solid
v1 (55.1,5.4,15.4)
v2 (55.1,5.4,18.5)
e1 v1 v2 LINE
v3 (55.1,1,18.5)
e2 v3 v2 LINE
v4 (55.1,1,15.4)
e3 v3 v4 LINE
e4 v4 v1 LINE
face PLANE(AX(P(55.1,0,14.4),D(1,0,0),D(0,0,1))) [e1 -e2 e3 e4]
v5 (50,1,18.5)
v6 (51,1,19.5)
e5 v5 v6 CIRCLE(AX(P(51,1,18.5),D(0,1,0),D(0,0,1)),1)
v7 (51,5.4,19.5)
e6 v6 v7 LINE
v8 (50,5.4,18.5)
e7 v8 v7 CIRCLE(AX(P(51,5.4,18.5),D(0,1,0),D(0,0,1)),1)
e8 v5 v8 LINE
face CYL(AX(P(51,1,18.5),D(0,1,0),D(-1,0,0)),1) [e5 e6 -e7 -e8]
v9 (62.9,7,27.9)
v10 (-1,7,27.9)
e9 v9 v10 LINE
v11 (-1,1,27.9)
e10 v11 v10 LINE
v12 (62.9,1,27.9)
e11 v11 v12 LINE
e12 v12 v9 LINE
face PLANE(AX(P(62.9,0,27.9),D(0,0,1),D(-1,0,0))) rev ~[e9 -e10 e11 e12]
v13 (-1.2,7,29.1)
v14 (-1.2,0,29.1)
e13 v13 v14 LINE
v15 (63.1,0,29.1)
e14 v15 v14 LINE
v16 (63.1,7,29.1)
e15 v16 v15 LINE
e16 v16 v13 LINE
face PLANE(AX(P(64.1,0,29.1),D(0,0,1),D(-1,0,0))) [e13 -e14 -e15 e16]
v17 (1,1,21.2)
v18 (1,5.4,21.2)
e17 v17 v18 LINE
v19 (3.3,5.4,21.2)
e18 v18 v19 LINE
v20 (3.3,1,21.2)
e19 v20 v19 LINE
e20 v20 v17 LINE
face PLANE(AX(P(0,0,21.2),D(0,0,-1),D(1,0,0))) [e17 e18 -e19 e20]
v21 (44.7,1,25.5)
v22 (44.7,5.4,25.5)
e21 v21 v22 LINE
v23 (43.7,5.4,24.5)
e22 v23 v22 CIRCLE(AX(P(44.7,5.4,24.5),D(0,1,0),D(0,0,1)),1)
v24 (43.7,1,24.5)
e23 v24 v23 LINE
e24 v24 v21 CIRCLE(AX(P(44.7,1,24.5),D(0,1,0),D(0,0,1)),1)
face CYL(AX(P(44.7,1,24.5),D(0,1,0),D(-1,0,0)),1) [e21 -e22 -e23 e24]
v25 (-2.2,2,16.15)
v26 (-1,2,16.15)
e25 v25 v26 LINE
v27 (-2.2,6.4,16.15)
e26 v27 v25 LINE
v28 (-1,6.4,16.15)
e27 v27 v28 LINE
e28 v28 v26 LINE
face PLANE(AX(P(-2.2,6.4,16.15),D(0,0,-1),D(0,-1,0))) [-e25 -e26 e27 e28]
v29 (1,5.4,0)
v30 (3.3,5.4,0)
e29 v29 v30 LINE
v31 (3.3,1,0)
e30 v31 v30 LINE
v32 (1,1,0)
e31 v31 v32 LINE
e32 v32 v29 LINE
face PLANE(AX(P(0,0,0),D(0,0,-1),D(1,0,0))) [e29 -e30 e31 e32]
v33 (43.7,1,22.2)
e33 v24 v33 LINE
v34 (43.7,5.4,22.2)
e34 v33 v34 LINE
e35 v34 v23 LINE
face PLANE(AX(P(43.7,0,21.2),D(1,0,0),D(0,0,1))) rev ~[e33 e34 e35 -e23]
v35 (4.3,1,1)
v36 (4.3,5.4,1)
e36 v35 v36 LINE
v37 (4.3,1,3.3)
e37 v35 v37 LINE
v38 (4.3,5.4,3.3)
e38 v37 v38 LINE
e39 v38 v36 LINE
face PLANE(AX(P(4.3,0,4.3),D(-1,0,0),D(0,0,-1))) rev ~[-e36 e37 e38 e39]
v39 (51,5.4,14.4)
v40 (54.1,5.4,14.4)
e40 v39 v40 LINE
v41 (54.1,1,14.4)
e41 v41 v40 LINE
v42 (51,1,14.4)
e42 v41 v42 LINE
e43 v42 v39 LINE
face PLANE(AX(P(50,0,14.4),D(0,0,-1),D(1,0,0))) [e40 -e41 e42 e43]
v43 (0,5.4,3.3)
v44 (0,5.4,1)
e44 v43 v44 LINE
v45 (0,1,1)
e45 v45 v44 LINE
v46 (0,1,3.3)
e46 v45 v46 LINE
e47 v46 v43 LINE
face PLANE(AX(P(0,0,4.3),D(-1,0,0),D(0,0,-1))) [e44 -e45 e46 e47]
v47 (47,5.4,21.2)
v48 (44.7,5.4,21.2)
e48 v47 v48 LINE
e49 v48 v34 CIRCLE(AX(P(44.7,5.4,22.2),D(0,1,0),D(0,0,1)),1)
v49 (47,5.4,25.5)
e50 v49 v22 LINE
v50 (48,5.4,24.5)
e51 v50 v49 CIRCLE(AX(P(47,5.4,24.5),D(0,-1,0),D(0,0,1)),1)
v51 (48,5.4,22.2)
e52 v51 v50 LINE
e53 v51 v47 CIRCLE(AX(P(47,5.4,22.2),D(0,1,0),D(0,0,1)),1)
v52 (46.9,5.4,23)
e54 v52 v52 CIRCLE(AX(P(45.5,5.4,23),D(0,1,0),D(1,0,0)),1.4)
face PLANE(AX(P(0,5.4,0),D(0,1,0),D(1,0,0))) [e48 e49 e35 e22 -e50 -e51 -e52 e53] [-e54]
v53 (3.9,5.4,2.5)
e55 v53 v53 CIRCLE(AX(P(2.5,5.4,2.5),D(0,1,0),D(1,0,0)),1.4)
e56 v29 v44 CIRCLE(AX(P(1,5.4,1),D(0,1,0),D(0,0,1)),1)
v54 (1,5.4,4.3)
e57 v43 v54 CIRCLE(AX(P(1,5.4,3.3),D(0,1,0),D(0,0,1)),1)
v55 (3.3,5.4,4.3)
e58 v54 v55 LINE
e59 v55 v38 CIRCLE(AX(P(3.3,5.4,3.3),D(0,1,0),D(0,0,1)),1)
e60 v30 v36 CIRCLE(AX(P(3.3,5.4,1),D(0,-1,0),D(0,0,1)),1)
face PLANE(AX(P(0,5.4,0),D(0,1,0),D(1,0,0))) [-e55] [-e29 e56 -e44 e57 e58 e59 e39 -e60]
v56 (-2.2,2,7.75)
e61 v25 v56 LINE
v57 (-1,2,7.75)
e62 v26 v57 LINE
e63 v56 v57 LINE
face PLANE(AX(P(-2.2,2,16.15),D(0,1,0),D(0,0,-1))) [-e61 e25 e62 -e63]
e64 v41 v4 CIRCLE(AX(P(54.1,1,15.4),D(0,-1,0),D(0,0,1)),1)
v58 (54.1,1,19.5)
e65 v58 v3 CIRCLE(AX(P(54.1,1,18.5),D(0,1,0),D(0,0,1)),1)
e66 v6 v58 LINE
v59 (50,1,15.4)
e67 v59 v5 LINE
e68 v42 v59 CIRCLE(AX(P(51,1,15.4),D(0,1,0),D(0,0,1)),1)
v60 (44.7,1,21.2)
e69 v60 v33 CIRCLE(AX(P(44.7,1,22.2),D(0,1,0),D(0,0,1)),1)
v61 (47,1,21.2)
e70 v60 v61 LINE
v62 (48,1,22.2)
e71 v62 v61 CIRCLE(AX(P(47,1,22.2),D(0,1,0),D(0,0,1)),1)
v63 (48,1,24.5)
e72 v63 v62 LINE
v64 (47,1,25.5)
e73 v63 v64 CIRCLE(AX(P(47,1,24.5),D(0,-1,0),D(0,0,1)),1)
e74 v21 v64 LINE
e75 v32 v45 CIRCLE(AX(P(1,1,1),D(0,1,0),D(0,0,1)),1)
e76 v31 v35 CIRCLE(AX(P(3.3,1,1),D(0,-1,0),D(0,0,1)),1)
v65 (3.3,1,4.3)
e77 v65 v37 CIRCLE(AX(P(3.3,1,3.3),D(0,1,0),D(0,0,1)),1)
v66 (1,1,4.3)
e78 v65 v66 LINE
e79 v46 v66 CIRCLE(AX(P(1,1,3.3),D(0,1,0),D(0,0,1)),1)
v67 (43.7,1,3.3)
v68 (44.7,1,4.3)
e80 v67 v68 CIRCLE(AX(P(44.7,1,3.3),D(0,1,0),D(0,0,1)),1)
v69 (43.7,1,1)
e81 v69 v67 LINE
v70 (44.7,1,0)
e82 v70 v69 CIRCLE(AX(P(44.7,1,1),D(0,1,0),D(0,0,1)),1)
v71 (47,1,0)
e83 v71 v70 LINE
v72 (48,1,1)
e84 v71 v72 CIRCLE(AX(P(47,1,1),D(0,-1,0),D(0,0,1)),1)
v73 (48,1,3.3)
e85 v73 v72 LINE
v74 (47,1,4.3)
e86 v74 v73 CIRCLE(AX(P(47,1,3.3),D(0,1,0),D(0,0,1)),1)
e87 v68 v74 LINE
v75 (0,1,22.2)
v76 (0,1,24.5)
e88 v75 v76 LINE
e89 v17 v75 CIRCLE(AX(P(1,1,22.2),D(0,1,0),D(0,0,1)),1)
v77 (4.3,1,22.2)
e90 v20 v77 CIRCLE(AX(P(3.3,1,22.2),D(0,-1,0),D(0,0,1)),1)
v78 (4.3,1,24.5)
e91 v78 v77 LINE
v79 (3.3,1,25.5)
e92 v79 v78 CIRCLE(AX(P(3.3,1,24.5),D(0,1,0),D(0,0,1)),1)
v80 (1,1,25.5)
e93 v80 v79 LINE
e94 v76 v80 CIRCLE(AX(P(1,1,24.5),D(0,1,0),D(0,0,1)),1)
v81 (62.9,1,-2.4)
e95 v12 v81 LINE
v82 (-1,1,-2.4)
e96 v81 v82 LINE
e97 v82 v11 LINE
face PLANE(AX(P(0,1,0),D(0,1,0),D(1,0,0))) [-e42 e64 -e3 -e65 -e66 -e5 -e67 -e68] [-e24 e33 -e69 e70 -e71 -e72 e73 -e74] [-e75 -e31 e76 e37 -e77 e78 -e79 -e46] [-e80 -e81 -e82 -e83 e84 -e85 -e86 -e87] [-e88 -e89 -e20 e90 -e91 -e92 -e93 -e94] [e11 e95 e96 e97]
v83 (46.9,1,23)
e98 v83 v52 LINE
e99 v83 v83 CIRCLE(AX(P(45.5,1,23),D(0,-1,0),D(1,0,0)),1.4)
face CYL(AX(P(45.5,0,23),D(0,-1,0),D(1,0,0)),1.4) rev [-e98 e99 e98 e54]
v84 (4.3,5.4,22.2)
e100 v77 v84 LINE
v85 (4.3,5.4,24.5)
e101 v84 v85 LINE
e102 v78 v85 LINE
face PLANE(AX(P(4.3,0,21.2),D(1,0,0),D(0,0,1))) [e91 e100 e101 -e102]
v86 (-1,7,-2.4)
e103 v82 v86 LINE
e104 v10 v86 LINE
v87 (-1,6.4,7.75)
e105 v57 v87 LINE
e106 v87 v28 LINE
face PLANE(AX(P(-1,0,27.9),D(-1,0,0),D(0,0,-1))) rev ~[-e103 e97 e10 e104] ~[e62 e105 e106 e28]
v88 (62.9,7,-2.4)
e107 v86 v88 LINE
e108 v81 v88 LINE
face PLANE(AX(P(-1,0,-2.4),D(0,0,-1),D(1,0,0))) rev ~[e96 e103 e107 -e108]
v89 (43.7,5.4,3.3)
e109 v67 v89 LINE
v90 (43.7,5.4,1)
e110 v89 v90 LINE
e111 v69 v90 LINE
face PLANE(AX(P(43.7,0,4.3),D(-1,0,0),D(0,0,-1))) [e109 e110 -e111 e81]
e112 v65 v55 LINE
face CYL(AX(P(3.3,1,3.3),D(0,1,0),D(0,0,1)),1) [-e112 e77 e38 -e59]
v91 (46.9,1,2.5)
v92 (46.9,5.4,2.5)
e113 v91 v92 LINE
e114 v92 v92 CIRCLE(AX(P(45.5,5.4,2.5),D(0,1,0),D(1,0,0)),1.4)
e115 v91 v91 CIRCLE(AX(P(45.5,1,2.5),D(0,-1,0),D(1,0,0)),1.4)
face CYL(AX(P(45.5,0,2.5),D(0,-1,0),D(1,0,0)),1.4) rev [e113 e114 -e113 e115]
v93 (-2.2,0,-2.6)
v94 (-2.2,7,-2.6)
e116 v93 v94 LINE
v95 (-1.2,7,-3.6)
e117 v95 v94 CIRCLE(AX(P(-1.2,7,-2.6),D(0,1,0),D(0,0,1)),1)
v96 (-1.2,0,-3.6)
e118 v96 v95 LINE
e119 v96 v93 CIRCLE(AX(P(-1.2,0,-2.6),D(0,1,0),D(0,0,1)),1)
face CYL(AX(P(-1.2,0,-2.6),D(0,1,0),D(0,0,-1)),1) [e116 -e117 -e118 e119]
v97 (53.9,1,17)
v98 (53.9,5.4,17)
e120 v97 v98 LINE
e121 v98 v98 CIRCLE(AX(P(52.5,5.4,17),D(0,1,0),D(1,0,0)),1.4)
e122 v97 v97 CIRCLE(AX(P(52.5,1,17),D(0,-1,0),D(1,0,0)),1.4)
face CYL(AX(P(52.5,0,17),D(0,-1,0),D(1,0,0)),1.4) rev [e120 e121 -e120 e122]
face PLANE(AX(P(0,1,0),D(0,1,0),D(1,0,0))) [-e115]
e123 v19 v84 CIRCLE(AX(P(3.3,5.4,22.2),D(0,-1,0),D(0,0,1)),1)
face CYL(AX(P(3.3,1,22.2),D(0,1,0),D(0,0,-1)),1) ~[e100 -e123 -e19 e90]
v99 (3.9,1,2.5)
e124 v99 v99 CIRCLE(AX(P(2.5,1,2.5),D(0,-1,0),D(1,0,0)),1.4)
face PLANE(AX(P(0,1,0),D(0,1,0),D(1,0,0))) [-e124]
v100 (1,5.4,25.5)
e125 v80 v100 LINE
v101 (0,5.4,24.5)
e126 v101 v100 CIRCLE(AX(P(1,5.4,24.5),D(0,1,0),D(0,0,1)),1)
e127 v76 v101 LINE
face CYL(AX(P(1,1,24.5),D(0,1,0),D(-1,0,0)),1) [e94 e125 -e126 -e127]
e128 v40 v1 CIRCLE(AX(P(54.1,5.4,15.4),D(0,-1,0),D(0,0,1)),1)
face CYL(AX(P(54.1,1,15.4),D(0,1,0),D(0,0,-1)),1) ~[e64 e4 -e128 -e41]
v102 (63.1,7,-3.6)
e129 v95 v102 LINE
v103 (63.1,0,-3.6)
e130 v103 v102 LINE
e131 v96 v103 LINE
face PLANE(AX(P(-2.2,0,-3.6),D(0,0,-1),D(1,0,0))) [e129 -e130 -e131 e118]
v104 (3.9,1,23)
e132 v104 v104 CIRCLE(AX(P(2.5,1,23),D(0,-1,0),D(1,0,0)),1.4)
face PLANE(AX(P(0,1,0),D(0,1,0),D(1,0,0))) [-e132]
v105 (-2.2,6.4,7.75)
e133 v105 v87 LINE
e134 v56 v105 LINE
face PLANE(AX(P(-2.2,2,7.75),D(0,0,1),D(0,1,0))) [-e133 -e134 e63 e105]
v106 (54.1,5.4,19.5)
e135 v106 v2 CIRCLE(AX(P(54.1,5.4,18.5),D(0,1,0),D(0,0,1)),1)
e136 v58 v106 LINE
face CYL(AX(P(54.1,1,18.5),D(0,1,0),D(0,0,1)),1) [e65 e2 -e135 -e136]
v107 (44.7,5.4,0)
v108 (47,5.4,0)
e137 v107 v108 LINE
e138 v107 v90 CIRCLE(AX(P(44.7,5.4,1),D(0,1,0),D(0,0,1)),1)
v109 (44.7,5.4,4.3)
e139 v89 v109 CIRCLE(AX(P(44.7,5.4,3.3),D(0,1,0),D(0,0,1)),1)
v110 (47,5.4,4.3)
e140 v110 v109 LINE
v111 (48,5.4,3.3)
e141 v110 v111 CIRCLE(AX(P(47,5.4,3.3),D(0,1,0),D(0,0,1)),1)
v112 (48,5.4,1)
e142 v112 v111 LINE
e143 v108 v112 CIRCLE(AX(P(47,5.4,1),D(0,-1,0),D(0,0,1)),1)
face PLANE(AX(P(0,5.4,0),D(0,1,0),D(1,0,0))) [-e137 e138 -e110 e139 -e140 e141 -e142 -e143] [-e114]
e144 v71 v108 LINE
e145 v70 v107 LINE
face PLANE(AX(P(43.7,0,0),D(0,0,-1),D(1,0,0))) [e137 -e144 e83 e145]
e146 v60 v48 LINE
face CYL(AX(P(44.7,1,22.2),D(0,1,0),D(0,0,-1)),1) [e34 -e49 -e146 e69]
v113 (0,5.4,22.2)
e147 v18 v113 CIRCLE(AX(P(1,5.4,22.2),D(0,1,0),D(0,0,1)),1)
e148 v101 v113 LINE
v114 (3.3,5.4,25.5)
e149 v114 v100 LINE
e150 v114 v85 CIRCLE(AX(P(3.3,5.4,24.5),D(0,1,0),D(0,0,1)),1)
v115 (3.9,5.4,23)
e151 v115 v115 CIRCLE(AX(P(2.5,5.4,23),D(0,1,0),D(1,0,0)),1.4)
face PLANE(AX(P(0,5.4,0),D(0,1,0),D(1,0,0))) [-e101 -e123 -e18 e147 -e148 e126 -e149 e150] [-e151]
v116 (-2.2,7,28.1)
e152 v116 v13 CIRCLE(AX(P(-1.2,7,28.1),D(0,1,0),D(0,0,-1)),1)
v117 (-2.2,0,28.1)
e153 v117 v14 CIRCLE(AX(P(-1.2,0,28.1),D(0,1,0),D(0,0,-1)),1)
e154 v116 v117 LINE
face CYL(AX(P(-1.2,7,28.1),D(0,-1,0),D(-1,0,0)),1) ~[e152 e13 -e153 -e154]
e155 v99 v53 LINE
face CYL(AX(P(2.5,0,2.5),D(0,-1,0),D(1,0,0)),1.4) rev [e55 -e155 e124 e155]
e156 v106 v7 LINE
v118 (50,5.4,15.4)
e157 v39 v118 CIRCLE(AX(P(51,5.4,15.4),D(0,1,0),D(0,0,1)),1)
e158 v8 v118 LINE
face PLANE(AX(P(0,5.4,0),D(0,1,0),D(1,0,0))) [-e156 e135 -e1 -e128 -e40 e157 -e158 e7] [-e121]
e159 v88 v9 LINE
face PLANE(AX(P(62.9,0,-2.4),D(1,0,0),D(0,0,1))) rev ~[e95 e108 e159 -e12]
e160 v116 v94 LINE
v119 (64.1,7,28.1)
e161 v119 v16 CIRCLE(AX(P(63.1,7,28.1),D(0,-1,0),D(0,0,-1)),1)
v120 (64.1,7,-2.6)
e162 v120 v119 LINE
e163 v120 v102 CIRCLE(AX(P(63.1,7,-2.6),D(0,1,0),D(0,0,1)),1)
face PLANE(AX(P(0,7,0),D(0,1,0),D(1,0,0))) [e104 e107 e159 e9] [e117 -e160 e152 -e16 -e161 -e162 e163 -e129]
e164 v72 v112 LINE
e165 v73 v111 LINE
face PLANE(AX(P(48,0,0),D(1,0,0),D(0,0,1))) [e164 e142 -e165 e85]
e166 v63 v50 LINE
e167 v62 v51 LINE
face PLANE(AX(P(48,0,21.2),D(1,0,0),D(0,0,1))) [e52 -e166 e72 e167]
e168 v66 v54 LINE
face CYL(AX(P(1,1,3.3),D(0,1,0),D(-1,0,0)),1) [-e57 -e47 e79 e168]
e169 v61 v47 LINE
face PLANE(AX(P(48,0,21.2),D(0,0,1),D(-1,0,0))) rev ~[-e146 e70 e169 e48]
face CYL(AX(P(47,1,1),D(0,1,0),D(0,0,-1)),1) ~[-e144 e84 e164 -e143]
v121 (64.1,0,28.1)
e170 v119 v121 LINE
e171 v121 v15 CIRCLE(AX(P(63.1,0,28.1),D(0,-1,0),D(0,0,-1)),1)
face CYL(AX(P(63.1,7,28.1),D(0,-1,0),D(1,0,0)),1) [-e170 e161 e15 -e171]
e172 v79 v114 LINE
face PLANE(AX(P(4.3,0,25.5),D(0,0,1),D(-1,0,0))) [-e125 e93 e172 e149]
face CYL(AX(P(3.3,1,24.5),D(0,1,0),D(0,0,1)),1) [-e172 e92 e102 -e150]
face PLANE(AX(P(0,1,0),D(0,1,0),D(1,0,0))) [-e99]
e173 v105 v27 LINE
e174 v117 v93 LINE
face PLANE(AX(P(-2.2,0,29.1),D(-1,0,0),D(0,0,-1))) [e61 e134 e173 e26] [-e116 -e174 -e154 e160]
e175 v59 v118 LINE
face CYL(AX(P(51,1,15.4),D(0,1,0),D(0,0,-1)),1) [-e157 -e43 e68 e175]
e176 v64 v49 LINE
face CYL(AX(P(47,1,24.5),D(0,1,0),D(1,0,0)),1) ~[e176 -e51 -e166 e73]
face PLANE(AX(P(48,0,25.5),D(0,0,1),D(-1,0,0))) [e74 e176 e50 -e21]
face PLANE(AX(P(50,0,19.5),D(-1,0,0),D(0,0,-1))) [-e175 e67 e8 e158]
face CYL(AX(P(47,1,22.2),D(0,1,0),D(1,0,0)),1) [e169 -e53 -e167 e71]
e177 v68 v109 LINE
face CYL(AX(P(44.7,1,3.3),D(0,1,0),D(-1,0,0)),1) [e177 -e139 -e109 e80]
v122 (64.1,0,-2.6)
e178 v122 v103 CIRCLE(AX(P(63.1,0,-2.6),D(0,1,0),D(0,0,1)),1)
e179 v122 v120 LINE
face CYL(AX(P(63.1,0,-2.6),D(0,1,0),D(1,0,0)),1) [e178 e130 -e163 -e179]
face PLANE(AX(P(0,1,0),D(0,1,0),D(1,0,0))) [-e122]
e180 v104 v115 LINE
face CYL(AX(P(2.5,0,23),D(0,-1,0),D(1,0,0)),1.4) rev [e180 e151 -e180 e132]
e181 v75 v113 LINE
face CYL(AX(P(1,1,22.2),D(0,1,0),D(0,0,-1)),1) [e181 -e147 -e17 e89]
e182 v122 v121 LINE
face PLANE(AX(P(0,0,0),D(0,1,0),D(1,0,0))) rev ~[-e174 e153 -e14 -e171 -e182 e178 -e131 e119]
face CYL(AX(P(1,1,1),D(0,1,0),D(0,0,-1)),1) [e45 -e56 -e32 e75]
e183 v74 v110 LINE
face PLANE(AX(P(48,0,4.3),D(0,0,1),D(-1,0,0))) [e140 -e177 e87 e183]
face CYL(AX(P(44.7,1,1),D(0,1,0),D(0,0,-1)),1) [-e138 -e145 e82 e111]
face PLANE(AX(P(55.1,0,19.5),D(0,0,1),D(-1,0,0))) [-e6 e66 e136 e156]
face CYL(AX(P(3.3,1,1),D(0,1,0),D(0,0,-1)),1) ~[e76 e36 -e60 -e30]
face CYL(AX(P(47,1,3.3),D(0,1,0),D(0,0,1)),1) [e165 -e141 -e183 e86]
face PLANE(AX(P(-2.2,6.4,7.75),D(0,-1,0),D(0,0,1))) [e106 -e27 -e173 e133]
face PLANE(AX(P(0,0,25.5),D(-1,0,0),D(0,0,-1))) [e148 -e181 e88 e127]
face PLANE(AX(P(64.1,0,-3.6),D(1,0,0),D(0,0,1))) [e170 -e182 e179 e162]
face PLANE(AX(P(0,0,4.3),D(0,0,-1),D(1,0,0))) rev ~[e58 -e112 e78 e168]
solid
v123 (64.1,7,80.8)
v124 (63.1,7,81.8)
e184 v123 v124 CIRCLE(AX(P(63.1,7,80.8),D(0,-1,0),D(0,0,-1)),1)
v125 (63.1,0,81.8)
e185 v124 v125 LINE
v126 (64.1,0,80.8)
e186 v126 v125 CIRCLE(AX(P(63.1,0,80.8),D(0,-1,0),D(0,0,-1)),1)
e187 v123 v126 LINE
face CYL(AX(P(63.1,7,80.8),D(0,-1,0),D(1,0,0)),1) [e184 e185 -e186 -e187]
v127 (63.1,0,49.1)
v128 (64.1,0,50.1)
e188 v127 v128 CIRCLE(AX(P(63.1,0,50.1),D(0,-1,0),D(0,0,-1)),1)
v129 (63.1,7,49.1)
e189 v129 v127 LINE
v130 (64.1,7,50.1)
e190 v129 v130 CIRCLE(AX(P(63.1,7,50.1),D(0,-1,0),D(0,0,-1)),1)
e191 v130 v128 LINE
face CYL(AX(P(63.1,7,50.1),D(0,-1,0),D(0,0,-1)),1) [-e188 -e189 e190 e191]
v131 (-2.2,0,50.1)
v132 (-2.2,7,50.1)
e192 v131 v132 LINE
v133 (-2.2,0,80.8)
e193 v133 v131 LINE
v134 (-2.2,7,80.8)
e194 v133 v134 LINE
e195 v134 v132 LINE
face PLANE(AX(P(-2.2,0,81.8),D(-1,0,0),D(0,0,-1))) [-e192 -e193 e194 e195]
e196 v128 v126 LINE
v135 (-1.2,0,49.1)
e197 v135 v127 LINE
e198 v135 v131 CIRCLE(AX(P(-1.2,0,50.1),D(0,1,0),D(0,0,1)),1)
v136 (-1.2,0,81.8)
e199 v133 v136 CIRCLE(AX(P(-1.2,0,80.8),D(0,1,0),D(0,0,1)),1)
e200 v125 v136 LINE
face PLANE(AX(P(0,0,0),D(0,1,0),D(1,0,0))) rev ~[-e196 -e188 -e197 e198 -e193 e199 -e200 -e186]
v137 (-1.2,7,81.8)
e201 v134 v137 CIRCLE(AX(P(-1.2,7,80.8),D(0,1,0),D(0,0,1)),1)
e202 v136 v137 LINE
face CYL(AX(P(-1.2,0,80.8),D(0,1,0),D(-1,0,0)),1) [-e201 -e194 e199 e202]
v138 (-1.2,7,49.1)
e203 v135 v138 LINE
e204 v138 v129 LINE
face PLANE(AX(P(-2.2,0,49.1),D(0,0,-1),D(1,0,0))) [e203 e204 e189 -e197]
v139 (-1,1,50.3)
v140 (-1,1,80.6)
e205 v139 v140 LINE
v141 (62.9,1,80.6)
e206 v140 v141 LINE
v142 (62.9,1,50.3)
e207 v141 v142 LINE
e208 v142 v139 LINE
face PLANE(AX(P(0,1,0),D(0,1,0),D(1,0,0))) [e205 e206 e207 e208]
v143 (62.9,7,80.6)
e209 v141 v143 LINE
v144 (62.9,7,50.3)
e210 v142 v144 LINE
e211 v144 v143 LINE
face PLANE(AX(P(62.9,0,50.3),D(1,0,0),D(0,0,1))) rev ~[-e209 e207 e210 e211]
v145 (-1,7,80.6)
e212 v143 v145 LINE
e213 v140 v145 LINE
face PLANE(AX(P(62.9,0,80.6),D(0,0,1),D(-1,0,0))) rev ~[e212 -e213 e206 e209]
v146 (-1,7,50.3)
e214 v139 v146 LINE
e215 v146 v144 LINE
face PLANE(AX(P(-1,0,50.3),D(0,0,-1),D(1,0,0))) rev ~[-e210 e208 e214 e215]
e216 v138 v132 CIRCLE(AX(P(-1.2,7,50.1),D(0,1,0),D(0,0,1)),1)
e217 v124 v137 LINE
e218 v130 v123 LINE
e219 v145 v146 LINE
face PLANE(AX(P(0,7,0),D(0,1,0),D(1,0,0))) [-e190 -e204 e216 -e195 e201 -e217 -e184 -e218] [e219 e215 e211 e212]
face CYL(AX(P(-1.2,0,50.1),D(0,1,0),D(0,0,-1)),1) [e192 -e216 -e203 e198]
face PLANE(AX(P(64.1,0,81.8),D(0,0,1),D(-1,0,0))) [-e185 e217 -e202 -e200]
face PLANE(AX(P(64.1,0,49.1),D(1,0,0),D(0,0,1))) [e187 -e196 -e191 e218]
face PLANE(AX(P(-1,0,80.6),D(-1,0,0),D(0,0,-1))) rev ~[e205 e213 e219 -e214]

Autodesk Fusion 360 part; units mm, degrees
sketch "Skizze1" plane through (0, 0, 0) normal (0, 1, 0) x (1, 0, 0)
  line L0 (0, 0) -> (48, 0)
  line L1 (48, 0) -> (48, -25.5)
  line L2 (48, -25.5) -> (0, -25.5)
  line L3 (0, -25.5) -> (0, 0)
  circle A0 centre (45.5, -2.5) radius 1.4
  line L4 (24, 5) -> (24, -28) construction
  line L5 (-2.2203, -12.75) -> (51, -12.75) construction
  circle A1 centre (45.5, -23) radius 1.4
  circle A2 centre (2.5, -2.5) radius 1.4
  circle A3 centre (2.5, -23) radius 1.4
  line L6 (50, -6) -> (60.5, -6)
  line L7 (60.5, -6) -> (60.5, -19.5)
  line L8 (60.5, -19.5) -> (50, -19.5)
  line L9 (50, -19.5) -> (50, -6)
  circle A4 centre (52.5, -17) radius 1.4
  line L10 (-1, 2.4) -> (62.9, 2.4)
  line L11 (62.9, 2.4) -> (62.9, -27.9)
  line L12 (62.9, -27.9) -> (-1, -27.9)
  line L13 (-1, -27.9) -> (-1, 2.4)
  line L14 (64.1, 3.6) -> (64.1, -29.1)
  line L15 (64.1, -29.1) -> (-2.2, -29.1)
  line L16 (-2.2, -29.1) -> (-2.2, 3.6)
  line L17 (-2.2, 3.6) -> (64.1, 3.6)
  line L18 (48, -4.3) -> (43.7, -4.3)
  line L19 (43.7, -4.3) -> (43.7, 0)
  line L20 (43.7, -21.2) -> (43.7, -25.5)
  line L21 (48, -21.2) -> (43.7, -21.2)
  line L22 (0, -4.3) -> (4.3, -4.3)
  line L23 (4.3, -4.3) -> (4.3, 0)
  line L24 (0, -21.2) -> (4.3, -21.2)
  line L25 (4.3, -21.2) -> (4.3, -25.5)
  line L26 (50, -14.4) -> (55.1, -14.4)
  line L27 (55.1, -14.4) -> (55.1, -19.5)
  line L28 (-2.2, -49.1) -> (64.1, -49.1)
  line L29 (64.1, -49.1) -> (64.1, -81.8)
  line L30 (64.1, -81.8) -> (-2.2, -81.8)
  line L31 (-2.2, -81.8) -> (-2.2, -49.1)
  line L32 (62.9, -80.6) -> (-1, -80.6)
  line L33 (-1, -80.6) -> (-1, -50.3)
  line L34 (-1, -50.3) -> (62.9, -50.3)
  line L35 (62.9, -50.3) -> (62.9, -80.6)
  dimension "d1" = 48
  dimension "d2" = 25.5
  dimension "d3" = 2.8
  dimension "d4" = 2.5
  dimension "d5" = 2.5
  dimension "d6" = 24
  dimension "d7" = 12.75
  dimension "d8" = 13.5
  dimension "d9" = 10.5
  dimension "d10" = 2.8
  dimension "d11" = 2.5
  dimension "d12" = 2.5
  dimension "d13" = 6
  dimension "d14" = 2
  dimension "d15" = 1
  dimension "d16" = 2.4
  dimension "d17" = 2.4
  dimension "d18" = 2.4
  dimension "d19" = -1.2
  dimension "d20" = 4.3
  dimension "d21" = 4.3
  dimension "d22" = 5.1
  dimension "d24" = 5.1
  dimension "d41" = 67.7
  dimension "d42" = 32.7
  dimension "d44" = 20
  dimension "d45" = 1.2
extrude "Extrusion1" add sketch "Skizze1" along normal blind 1 contours L0 L3 L22 L23 | L0 L1 L2 L3 L18 L19 L20 L21 L22 L23 L24 L25 | L0 L1 L18 L19 | L2 L3 L24 L25 | L1 L2 L20 L21 | A0 | A1 | A2 | A3 | L6 L7 L8 L9 L26 L27 | L8 L9 L26 L27 | A4 | L10 L11 L12 L13 | L14 L15 L16 L17 | L28 L29 L30 L31 | L32 L33 L34 L35 makes body 1 at (19.9, 0, 18.2) makes body 2 at (19.9, 0, 60)
extrude "Extrusion2" add sketch "Skizze1" along normal blind 7 contours L14 L15 L16 L17 bodies 1
extrude "Extrusion3" add sketch "Skizze1" along normal blind 5.4 contours L0 L3 L22 L23 | L0 L1 L18 L19 | L2 L3 L24 L25 | L1 L2 L20 L21 | L8 L9 L26 L27 bodies 1
sketch "Skizze2" plane through (-2.2, 0, 0) normal (-1, 0, 0) x (0, 0, 1)
  line L0 (-3.6, 0) -> (29.1, 0)
  line L1 (29.1, 0) -> (29.1, 7)
  line L2 (29.1, 7) -> (-3.6, 7)
  line L3 (-3.6, 7) -> (-3.6, 0)
  line L4 (7.75, 6.4) -> (16.15, 6.4)
  line L5 (16.15, 6.4) -> (16.15, 2)
  line L6 (16.15, 2) -> (7.75, 2)
  line L7 (7.75, 2) -> (7.75, 6.4)
  line L8 (29.1, 0) -> (-3.6, 0)
  dimension "d31" = 8.4
  dimension "d32" = 4.4
  dimension "d34" = 2
  dimension "d35" = 34.3
  dimension "d36" = 12.95
extrude "Extrusion4" cut sketch "Skizze2" against normal up to surface (1.2 mm away) contours L4 L5 L6 L7 bodies 1
extrude "Extrude5" add sketch "Skizze1" along normal blind 7 contours L28 L29 L30 L31 bodies 2
fillet "Abrundung1" radius 1 24 edges at (64.1, 3.5, -3.6) (-2.2, 3.5, -3.6) (0, 3.2, 0) (4.3, 3.2, 0) (43.7, 3.2, 0) (48, 3.2, 0) (50, 3.2, 14.4) (55.1, 3.2, 14.4) (48, 3.2, 21.2) (43.7, 3.2, 21.2) (4.3, 3.2, 21.2) (0, 3.2, 21.2) (-2.2, 3.5, 29.1) (64.1, 3.5, 29.1) (55.1, 3.2, 19.5) (50, 3.2, 19.5) (48, 3.2, 25.5) (43.7, 3.2, 25.5) (4.3, 3.2, 25.5) (0, 3.2, 25.5) (4.3, 3.2, 4.3) (0, 3.2, 4.3) (43.7, 3.2, 4.3) (48, 3.2, 4.3) on bodies 1 2
fillet "Abrundung1" radius 1 4 edges at (-2.2, 3.5, 81.8) (-2.2, 3.5, 49.1) (64.1, 3.5, 81.8) (64.1, 3.5, 49.1) on bodies 1 2
equation "d6 = d1 / 2"
equation "d7 = d2 / 2"
equation "d13 = ( d2 - d8 ) / 2"
equation "d20 = d5 + d3 / 2 + 0.4 mm"
equation "d21 = d20"
equation "d22 = d11 + d10 / 2 + 1.2 mm"
equation "d24 = d22"
equation "d36 = ( 34.30 mm - d31 ) / 2"
